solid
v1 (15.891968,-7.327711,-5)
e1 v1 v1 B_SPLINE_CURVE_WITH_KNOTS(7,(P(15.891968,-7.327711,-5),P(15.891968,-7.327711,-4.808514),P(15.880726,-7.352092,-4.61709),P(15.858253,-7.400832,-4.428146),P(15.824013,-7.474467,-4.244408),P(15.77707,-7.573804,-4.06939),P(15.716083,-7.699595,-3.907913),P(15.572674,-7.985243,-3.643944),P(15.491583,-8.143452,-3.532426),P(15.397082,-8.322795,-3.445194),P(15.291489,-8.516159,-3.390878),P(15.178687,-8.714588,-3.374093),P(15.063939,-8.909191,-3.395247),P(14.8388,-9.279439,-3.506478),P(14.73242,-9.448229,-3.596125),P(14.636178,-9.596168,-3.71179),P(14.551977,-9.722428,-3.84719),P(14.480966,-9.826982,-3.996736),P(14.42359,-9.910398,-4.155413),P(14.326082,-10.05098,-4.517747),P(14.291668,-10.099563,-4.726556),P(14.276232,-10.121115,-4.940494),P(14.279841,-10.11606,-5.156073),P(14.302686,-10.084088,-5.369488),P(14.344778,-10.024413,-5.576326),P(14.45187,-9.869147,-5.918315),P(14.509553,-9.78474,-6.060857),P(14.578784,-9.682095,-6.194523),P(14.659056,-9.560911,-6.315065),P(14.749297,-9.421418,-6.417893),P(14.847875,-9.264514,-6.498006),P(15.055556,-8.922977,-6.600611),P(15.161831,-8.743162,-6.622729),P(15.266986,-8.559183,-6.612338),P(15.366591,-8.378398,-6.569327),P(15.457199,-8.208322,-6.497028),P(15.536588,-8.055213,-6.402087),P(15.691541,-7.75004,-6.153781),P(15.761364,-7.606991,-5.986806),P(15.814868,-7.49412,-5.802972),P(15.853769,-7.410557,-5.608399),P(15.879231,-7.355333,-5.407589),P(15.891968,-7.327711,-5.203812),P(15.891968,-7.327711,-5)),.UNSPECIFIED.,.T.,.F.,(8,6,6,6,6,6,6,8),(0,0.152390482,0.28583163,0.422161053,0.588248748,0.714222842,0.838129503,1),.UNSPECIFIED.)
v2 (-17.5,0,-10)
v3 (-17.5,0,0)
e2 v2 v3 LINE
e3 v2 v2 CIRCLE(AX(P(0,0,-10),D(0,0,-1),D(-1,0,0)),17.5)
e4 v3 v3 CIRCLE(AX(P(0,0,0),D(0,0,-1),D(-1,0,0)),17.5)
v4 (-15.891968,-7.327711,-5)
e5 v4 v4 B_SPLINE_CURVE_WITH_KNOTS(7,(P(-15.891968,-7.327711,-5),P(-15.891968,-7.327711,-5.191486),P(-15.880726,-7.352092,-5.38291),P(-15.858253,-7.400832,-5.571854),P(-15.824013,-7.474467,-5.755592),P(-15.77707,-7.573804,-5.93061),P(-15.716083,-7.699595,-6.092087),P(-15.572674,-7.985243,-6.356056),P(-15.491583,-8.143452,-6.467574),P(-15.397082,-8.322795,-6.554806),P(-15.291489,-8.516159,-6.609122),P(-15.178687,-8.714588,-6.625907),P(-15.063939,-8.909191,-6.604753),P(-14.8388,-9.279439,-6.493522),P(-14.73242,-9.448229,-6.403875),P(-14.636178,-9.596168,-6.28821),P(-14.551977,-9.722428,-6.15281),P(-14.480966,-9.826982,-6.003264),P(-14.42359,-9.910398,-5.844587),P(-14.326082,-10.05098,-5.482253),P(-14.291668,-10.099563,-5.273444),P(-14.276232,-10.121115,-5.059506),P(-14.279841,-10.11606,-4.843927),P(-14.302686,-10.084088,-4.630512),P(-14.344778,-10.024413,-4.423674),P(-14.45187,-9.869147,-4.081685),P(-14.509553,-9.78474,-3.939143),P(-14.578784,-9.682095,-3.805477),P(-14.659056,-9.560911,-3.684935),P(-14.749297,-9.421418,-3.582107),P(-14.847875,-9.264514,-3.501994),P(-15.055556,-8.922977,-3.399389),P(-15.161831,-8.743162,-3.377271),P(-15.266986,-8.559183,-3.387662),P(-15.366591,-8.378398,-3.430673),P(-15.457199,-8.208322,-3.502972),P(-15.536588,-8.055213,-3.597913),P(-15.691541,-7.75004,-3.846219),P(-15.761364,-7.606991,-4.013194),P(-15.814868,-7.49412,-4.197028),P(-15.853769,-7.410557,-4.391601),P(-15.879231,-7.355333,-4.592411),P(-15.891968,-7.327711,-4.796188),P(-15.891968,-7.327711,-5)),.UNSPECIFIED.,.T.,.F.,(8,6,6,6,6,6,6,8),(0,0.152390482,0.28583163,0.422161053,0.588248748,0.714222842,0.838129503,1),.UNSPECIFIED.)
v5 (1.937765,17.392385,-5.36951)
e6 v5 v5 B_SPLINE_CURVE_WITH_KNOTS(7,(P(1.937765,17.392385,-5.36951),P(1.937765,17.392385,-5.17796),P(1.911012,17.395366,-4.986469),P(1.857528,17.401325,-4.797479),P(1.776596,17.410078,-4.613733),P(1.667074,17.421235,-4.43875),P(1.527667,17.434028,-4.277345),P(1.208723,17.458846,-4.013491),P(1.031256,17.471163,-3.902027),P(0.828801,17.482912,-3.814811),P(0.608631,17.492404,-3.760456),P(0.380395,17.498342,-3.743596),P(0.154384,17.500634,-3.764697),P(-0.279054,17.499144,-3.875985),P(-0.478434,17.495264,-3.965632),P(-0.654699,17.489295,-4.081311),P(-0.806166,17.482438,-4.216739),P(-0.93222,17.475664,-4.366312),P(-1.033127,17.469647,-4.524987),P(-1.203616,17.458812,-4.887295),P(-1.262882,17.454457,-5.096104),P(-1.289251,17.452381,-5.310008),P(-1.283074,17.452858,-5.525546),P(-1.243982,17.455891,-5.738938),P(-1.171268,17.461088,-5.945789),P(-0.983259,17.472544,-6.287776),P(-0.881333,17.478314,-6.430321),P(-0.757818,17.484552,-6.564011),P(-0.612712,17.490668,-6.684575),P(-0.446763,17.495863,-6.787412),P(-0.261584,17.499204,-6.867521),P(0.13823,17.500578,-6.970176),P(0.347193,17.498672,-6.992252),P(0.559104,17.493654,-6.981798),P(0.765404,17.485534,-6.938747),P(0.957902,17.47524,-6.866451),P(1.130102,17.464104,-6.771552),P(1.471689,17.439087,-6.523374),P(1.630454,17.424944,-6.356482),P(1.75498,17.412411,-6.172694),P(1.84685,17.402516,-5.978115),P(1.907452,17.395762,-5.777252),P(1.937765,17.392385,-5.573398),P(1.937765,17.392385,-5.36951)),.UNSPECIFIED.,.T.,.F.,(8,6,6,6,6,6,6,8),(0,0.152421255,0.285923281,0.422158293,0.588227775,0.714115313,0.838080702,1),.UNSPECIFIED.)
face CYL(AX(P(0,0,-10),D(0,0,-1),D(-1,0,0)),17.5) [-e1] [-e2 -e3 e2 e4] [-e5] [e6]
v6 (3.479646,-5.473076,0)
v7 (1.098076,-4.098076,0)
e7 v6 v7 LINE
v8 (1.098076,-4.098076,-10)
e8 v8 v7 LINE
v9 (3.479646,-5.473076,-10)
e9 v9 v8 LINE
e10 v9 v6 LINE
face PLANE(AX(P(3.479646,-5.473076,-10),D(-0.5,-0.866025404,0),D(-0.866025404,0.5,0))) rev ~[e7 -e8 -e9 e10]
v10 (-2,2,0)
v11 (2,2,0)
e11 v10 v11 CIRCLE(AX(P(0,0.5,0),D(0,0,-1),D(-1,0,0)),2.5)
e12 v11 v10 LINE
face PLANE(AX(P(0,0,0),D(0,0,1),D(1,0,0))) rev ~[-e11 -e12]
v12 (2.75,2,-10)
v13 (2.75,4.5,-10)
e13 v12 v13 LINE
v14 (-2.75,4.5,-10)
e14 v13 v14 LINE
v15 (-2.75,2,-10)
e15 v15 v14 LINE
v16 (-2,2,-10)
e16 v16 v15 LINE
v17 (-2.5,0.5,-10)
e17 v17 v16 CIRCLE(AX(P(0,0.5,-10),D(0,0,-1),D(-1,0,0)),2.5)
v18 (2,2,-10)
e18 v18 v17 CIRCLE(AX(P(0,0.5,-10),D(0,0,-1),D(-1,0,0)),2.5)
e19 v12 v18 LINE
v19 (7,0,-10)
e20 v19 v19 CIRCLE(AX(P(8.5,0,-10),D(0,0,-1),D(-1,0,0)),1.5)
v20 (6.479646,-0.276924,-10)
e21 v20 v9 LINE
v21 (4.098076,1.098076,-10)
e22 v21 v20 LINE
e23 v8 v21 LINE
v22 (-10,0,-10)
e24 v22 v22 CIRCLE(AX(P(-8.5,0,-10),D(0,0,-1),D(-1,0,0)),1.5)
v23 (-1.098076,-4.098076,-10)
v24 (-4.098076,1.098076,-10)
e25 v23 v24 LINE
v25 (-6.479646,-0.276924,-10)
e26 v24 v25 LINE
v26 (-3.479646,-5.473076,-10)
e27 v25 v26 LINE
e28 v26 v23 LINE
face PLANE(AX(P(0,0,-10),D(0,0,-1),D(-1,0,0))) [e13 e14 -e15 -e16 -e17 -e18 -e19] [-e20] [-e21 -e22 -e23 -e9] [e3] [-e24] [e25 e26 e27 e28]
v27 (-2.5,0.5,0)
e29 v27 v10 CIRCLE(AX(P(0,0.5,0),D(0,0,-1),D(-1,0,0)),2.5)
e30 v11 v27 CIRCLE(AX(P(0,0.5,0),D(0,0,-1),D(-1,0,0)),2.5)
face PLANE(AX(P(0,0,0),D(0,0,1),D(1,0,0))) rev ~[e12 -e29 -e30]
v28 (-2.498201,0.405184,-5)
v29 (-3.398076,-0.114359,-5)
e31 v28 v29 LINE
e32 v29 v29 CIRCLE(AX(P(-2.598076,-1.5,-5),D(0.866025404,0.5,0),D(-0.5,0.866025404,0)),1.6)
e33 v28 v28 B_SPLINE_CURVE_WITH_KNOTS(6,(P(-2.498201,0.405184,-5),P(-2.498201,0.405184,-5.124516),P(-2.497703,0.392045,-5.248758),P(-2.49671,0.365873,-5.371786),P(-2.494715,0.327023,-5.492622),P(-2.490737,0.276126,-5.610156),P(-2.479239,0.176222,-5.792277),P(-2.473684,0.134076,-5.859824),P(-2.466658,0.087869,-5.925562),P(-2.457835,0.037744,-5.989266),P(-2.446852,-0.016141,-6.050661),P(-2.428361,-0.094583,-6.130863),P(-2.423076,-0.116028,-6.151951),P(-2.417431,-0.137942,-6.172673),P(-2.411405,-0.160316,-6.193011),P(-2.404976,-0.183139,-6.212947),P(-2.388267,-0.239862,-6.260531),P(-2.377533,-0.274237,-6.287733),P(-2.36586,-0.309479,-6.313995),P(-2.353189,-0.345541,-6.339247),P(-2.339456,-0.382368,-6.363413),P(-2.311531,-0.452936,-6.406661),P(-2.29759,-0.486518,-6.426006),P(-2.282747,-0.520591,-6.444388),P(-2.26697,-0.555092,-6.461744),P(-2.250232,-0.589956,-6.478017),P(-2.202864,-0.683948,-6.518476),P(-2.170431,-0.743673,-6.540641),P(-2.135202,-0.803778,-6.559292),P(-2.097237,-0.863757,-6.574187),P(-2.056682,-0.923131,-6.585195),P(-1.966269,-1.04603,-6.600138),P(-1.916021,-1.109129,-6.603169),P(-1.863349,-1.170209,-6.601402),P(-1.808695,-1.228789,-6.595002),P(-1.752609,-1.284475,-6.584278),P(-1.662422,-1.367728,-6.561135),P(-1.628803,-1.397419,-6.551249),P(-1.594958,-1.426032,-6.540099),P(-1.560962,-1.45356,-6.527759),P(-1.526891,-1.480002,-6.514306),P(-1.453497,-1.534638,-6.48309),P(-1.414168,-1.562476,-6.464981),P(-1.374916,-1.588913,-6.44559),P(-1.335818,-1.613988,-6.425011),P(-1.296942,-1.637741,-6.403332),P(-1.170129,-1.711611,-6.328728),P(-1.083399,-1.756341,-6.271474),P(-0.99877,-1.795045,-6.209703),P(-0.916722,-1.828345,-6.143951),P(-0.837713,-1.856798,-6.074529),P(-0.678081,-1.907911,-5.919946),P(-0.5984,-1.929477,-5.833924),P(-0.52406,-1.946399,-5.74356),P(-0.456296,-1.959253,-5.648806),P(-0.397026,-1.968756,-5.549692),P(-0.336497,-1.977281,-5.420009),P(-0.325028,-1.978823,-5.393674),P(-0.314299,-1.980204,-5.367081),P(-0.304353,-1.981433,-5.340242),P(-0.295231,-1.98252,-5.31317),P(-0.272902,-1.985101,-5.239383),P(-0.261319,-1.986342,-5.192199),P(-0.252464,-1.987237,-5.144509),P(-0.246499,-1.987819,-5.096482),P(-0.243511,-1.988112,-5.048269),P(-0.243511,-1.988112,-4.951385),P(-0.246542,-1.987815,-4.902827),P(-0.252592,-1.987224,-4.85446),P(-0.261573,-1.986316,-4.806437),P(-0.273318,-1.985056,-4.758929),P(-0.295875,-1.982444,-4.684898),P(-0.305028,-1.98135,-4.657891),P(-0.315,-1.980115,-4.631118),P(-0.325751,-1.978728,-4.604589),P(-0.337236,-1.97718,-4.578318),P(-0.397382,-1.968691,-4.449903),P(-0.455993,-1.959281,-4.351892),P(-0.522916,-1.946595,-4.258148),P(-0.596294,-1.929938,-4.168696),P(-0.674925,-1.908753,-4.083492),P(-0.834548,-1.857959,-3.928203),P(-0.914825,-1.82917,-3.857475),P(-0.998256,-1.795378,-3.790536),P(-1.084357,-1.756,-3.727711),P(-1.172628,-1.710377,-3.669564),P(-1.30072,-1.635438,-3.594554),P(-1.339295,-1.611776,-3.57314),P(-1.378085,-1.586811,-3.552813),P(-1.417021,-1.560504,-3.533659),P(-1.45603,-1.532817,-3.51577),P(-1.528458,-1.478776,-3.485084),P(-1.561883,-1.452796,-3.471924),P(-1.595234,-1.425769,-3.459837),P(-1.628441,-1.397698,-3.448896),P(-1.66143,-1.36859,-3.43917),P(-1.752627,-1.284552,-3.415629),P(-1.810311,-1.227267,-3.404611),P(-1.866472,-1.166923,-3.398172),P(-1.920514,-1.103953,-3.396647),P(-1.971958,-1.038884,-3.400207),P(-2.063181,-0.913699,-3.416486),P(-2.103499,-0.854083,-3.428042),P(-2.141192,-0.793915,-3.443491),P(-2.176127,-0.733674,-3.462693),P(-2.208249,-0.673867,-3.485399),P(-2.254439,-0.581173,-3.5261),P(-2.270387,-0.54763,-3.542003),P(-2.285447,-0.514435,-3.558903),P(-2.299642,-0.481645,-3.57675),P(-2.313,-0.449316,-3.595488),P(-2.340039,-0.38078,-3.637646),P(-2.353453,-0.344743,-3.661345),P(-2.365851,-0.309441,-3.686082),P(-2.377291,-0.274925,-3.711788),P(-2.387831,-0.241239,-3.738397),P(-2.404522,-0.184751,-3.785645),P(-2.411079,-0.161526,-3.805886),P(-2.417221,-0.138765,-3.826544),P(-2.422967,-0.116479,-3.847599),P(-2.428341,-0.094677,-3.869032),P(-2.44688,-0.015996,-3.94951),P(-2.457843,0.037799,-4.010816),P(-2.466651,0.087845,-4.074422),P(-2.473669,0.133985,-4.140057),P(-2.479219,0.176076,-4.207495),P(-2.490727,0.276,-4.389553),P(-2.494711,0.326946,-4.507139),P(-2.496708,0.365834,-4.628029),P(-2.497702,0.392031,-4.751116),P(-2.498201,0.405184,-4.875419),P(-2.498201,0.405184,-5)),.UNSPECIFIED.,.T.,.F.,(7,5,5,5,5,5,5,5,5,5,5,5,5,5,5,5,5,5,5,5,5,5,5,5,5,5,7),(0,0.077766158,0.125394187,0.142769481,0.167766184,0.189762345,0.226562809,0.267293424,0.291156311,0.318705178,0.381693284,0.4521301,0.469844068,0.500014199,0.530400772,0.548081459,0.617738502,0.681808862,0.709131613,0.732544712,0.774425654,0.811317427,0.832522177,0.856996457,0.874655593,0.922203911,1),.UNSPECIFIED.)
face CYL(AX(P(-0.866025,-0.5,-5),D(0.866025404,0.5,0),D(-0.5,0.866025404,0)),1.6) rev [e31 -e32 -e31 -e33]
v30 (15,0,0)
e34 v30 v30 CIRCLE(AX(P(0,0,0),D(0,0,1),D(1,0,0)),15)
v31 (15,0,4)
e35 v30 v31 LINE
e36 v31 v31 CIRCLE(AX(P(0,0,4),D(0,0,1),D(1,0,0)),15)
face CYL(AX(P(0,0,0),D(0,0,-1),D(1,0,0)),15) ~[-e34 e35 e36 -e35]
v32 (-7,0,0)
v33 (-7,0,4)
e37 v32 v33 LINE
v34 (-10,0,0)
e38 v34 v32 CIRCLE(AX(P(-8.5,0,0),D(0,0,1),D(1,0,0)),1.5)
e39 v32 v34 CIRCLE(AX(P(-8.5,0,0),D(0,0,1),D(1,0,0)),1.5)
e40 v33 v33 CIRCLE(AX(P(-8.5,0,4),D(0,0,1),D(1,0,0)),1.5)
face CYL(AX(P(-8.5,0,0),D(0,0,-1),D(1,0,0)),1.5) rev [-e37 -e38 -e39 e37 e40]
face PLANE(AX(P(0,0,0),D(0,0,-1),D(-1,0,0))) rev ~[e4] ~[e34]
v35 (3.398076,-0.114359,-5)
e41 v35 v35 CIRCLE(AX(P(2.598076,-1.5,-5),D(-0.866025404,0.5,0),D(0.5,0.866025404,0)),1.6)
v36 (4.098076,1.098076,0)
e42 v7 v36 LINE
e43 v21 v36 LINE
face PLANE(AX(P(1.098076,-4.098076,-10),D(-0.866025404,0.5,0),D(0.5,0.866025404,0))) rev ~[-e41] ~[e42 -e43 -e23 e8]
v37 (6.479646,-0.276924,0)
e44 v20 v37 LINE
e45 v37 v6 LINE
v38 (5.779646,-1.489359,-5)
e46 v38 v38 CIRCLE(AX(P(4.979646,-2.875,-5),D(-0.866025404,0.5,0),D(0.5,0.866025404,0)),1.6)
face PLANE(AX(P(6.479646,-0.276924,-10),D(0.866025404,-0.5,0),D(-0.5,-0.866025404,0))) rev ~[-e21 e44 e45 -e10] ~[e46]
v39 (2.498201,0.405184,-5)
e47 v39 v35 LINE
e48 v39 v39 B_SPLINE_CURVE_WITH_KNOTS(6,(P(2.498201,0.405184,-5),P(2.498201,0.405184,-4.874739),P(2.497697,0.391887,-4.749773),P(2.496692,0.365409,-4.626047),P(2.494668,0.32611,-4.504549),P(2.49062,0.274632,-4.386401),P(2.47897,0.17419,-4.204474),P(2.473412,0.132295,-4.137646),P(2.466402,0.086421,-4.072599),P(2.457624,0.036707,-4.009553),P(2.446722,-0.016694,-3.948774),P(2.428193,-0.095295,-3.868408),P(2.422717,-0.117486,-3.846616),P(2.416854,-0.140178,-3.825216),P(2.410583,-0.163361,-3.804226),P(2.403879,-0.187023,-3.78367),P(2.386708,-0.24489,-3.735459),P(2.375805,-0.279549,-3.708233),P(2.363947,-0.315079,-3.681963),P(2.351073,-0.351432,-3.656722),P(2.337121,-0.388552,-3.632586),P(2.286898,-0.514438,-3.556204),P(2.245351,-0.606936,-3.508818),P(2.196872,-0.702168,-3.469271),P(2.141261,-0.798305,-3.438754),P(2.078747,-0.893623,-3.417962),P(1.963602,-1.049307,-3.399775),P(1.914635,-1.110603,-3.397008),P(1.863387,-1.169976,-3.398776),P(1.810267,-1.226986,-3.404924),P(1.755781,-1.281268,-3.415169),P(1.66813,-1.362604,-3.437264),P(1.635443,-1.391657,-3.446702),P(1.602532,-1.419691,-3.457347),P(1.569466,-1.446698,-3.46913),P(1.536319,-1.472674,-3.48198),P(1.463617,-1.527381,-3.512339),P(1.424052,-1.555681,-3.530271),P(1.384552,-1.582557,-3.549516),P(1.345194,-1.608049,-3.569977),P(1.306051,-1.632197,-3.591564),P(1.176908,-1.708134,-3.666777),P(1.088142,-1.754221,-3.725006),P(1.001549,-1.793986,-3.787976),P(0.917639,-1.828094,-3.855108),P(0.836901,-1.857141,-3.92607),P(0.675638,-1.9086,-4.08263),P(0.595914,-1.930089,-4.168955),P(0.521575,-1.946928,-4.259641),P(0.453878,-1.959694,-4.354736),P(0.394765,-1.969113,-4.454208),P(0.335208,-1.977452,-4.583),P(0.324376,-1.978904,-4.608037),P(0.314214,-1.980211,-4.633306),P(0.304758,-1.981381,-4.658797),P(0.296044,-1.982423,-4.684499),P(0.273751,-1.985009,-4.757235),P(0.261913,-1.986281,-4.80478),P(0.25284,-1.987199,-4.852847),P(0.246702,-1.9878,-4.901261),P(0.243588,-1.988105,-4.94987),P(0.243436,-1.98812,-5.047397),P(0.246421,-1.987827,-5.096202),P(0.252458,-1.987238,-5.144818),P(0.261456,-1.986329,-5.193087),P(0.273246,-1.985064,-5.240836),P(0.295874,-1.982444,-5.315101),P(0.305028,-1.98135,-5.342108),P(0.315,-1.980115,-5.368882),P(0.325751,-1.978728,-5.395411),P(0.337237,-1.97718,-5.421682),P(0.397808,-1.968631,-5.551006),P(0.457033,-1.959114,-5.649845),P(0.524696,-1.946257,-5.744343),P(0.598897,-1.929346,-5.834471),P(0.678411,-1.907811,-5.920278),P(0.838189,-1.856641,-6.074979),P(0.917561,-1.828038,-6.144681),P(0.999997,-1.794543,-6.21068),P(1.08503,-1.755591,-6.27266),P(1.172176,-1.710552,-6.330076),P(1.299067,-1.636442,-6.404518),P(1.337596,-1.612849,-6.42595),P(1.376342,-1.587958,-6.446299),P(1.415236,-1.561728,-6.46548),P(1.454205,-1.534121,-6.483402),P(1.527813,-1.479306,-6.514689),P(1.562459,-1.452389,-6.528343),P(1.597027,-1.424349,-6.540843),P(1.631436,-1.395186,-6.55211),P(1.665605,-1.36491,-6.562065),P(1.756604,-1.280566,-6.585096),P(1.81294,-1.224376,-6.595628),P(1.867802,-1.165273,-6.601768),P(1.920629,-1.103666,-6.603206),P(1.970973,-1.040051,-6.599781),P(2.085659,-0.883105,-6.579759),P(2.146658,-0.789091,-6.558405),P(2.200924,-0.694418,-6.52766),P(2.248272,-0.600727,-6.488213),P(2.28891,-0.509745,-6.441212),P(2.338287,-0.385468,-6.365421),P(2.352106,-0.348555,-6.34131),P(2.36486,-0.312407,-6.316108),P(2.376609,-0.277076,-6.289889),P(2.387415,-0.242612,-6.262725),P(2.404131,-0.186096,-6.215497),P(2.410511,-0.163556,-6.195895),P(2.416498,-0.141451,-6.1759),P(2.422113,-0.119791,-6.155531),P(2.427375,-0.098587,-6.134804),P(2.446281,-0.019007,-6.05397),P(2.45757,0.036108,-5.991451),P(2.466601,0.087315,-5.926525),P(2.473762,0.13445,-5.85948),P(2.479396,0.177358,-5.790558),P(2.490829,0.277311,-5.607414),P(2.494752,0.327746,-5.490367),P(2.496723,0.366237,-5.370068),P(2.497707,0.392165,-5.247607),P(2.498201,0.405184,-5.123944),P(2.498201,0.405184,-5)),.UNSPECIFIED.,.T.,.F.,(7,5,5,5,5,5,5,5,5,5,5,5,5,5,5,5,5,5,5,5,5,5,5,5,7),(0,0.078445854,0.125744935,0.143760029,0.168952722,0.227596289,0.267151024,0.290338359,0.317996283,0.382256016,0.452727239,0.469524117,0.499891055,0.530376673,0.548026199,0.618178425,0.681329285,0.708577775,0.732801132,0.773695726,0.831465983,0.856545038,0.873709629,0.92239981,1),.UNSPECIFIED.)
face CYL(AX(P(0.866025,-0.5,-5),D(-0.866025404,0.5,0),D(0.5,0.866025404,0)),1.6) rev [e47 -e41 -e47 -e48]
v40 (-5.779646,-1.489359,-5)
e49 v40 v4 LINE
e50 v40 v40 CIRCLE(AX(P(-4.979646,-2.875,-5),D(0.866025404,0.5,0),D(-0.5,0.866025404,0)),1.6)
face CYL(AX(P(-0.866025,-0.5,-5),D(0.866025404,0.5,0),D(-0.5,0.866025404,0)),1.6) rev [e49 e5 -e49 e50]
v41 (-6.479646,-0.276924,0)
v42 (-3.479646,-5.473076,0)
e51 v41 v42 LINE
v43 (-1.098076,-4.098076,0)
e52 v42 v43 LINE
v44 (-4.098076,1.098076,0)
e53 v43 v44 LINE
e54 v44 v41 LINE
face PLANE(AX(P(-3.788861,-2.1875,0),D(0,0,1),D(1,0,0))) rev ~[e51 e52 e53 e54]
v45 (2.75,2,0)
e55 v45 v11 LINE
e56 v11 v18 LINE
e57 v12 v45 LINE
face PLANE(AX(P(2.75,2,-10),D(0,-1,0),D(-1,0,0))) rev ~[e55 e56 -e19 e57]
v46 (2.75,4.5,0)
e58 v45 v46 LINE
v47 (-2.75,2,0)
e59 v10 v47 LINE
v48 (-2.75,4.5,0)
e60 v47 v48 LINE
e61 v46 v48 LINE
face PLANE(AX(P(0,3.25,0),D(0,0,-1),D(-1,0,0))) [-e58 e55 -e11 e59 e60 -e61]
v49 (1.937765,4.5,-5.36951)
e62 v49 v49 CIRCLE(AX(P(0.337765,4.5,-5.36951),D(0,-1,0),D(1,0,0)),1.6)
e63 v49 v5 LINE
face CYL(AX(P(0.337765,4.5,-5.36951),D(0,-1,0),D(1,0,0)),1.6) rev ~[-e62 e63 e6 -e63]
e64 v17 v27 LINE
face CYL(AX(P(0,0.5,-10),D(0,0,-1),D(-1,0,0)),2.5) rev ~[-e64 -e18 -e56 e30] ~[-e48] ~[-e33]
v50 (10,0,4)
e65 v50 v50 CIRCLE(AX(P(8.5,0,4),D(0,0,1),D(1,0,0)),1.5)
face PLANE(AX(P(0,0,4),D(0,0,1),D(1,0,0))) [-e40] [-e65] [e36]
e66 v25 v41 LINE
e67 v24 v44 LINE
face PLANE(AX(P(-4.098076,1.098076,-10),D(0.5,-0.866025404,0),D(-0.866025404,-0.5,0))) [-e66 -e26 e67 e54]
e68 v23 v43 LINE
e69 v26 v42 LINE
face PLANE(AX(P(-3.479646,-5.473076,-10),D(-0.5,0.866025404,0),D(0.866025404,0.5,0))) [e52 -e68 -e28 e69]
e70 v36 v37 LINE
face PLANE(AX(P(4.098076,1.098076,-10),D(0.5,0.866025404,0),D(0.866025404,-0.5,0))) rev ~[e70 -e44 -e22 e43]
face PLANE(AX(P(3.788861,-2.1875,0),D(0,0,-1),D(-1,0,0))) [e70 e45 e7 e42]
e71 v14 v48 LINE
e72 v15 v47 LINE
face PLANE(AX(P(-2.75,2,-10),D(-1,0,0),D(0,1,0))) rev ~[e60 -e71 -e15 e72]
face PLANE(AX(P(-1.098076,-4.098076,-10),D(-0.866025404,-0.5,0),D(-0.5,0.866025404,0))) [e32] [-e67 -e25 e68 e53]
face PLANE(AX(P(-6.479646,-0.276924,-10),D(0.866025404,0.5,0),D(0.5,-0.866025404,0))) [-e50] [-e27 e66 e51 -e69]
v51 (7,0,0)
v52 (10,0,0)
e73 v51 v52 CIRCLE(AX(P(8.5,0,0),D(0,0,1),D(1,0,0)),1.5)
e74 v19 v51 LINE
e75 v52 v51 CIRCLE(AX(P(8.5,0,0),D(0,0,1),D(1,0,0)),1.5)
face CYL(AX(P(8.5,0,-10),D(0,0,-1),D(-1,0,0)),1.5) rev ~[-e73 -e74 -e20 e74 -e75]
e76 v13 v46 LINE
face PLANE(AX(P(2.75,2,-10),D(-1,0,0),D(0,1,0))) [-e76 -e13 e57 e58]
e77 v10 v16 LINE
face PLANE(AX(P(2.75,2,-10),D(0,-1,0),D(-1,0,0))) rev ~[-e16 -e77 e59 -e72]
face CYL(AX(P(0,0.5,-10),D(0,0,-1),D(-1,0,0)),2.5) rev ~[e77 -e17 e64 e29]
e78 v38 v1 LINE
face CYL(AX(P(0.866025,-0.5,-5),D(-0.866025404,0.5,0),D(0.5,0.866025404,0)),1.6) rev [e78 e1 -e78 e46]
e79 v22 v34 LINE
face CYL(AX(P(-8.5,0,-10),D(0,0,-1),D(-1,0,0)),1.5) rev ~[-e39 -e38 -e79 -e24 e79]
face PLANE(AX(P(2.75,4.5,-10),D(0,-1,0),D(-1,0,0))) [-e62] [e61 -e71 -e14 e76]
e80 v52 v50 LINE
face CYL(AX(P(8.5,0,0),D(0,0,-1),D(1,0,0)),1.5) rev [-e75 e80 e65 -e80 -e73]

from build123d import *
from build123d.topology import SkipClean

# Parameters (mm, degrees)
SKETCH1_R               = 15
SKETCH1_R_2             = 1.5
BOSS_EXTRUDE1_DEPTH     = 4
BOSS_EXTRUDE2_START     = 10
SKETCH4_R               = 17.5
SKETCH4_R_2             = 2.5
SKETCH4_R_3             = 1.5
BOSS_EXTRUDE2_DEPTH     = 10
SKETCH12_W              = 5.5
SKETCH12_H              = 2.5
CUT_EXTRUDE7_DEPTH      = 10
CUT_EXTRUDE8_DEPTH      = 15
CUT_EXTRUDE8_DEPTH_BACK = 2
SKETCH17_R              = 1.6
CUT_EXTRUDE9_DEPTH      = 30
CUT_EXTRUDE9_DEPTH_BACK = 2
ESBO_O2_R               = 1.6
CORTE_EXTRUS_O1_DEPTH   = 15


with BuildPart() as part:
    # Sketch1 → Boss-Extrude1 (new body)
    with BuildSketch(Plane.XY):
        Circle(SKETCH1_R)
        with Locations((-8.5, 0)):
            Circle(SKETCH1_R_2, mode=Mode.SUBTRACT)
        with Locations((8.5, 0)):
            Circle(SKETCH1_R_2, mode=Mode.SUBTRACT)
    extrude(amount=BOSS_EXTRUDE1_DEPTH)

    # Sketch4 → Boss-Extrude2 (add)
    with SkipClean():  # the faces are left unmerged after this step: merging them gives an invalid solid
        with BuildSketch(Plane(origin=(0, 0, 0), x_dir=(-1, 0, 0), z_dir=(0, 0, -1)).offset(BOSS_EXTRUDE2_START)):
            Circle(SKETCH4_R)
            with Locations((0, 0.5)):
                Circle(SKETCH4_R_2, mode=Mode.SUBTRACT)
            with Locations((8.5, 0)):
                Circle(SKETCH4_R_3, mode=Mode.SUBTRACT)
            with Locations((-8.5, 0)):
                Circle(SKETCH4_R_3, mode=Mode.SUBTRACT)
        extrude(amount=-BOSS_EXTRUDE2_DEPTH)

    # Sketch12 → Cut-Extrude7 (cut)
    with SkipClean():  # the faces are left unmerged after this step: merging them gives an invalid solid
        with BuildSketch(Plane(origin=(0, 0, -10), x_dir=(-1, 0, 0), z_dir=(0, 0, -1))):
            Polygon((1.098076211, -4.098076211), (4.098076211, 1.098076211), (6.479646072, -0.276923789), (3.479646072, -5.473076211), align=None)
            with Locations((0, 3.25)):
                Rectangle(SKETCH12_W, SKETCH12_H)
            Polygon((-3.479646072, -5.473076211), (-1.098076211, -4.098076211), (-4.098076211, 1.098076211), (-6.479646072, -0.276923789), align=None)
        extrude(amount=-CUT_EXTRUDE7_DEPTH, mode=Mode.SUBTRACT)

    # Sketch17 → Cut-Extrude8 (cut, two sides: drawn at the far end of the back side and taken through both)
    with SkipClean():  # the faces are left unmerged after this step: merging them gives an invalid solid
        with BuildSketch(Plane(origin=(2.598076211, -1.5, 0), x_dir=(0, 0, -1), z_dir=(0.8660254037844387, -0.4999999999999998, 0)).offset(-CUT_EXTRUDE8_DEPTH_BACK)):
            with Locations((5, 0)):
                Circle(SKETCH17_R)
        extrude(amount=CUT_EXTRUDE8_DEPTH + CUT_EXTRUDE8_DEPTH_BACK, mode=Mode.SUBTRACT)

    # Sketch18 → Cut-Extrude9 (cut, two sides: drawn at the far end of the back side and taken through both)
    with SkipClean():  # the faces are left unmerged after this step: merging them gives an invalid solid
        with BuildSketch(Plane(origin=(-2.598076211, -1.5, 0), x_dir=(0, 0, 1), z_dir=(-0.8660254037844387, -0.4999999999999998, 0)).offset(-CUT_EXTRUDE9_DEPTH_BACK)):
            with BuildLine():
                ThreePointArc((-6.6, 0), (-5, -1.6), (-3.4, 0))
                ThreePointArc((-3.4, 0), (-5, 1.6), (-6.6, 0))
            make_face()
        extrude(amount=CUT_EXTRUDE9_DEPTH + CUT_EXTRUDE9_DEPTH_BACK, mode=Mode.SUBTRACT)

    # Esboço2 → Corte-extrusão1 (cut)
    with SkipClean():  # the faces are left unmerged after this step: merging them gives an invalid solid
        with BuildSketch(Plane.XZ.offset(-4.5)):
            with Locations((0.337764543, -5.369510029)):
                Circle(ESBO_O2_R)
        extrude(amount=-CORTE_EXTRUS_O1_DEPTH, mode=Mode.SUBTRACT)


solid = part.part
